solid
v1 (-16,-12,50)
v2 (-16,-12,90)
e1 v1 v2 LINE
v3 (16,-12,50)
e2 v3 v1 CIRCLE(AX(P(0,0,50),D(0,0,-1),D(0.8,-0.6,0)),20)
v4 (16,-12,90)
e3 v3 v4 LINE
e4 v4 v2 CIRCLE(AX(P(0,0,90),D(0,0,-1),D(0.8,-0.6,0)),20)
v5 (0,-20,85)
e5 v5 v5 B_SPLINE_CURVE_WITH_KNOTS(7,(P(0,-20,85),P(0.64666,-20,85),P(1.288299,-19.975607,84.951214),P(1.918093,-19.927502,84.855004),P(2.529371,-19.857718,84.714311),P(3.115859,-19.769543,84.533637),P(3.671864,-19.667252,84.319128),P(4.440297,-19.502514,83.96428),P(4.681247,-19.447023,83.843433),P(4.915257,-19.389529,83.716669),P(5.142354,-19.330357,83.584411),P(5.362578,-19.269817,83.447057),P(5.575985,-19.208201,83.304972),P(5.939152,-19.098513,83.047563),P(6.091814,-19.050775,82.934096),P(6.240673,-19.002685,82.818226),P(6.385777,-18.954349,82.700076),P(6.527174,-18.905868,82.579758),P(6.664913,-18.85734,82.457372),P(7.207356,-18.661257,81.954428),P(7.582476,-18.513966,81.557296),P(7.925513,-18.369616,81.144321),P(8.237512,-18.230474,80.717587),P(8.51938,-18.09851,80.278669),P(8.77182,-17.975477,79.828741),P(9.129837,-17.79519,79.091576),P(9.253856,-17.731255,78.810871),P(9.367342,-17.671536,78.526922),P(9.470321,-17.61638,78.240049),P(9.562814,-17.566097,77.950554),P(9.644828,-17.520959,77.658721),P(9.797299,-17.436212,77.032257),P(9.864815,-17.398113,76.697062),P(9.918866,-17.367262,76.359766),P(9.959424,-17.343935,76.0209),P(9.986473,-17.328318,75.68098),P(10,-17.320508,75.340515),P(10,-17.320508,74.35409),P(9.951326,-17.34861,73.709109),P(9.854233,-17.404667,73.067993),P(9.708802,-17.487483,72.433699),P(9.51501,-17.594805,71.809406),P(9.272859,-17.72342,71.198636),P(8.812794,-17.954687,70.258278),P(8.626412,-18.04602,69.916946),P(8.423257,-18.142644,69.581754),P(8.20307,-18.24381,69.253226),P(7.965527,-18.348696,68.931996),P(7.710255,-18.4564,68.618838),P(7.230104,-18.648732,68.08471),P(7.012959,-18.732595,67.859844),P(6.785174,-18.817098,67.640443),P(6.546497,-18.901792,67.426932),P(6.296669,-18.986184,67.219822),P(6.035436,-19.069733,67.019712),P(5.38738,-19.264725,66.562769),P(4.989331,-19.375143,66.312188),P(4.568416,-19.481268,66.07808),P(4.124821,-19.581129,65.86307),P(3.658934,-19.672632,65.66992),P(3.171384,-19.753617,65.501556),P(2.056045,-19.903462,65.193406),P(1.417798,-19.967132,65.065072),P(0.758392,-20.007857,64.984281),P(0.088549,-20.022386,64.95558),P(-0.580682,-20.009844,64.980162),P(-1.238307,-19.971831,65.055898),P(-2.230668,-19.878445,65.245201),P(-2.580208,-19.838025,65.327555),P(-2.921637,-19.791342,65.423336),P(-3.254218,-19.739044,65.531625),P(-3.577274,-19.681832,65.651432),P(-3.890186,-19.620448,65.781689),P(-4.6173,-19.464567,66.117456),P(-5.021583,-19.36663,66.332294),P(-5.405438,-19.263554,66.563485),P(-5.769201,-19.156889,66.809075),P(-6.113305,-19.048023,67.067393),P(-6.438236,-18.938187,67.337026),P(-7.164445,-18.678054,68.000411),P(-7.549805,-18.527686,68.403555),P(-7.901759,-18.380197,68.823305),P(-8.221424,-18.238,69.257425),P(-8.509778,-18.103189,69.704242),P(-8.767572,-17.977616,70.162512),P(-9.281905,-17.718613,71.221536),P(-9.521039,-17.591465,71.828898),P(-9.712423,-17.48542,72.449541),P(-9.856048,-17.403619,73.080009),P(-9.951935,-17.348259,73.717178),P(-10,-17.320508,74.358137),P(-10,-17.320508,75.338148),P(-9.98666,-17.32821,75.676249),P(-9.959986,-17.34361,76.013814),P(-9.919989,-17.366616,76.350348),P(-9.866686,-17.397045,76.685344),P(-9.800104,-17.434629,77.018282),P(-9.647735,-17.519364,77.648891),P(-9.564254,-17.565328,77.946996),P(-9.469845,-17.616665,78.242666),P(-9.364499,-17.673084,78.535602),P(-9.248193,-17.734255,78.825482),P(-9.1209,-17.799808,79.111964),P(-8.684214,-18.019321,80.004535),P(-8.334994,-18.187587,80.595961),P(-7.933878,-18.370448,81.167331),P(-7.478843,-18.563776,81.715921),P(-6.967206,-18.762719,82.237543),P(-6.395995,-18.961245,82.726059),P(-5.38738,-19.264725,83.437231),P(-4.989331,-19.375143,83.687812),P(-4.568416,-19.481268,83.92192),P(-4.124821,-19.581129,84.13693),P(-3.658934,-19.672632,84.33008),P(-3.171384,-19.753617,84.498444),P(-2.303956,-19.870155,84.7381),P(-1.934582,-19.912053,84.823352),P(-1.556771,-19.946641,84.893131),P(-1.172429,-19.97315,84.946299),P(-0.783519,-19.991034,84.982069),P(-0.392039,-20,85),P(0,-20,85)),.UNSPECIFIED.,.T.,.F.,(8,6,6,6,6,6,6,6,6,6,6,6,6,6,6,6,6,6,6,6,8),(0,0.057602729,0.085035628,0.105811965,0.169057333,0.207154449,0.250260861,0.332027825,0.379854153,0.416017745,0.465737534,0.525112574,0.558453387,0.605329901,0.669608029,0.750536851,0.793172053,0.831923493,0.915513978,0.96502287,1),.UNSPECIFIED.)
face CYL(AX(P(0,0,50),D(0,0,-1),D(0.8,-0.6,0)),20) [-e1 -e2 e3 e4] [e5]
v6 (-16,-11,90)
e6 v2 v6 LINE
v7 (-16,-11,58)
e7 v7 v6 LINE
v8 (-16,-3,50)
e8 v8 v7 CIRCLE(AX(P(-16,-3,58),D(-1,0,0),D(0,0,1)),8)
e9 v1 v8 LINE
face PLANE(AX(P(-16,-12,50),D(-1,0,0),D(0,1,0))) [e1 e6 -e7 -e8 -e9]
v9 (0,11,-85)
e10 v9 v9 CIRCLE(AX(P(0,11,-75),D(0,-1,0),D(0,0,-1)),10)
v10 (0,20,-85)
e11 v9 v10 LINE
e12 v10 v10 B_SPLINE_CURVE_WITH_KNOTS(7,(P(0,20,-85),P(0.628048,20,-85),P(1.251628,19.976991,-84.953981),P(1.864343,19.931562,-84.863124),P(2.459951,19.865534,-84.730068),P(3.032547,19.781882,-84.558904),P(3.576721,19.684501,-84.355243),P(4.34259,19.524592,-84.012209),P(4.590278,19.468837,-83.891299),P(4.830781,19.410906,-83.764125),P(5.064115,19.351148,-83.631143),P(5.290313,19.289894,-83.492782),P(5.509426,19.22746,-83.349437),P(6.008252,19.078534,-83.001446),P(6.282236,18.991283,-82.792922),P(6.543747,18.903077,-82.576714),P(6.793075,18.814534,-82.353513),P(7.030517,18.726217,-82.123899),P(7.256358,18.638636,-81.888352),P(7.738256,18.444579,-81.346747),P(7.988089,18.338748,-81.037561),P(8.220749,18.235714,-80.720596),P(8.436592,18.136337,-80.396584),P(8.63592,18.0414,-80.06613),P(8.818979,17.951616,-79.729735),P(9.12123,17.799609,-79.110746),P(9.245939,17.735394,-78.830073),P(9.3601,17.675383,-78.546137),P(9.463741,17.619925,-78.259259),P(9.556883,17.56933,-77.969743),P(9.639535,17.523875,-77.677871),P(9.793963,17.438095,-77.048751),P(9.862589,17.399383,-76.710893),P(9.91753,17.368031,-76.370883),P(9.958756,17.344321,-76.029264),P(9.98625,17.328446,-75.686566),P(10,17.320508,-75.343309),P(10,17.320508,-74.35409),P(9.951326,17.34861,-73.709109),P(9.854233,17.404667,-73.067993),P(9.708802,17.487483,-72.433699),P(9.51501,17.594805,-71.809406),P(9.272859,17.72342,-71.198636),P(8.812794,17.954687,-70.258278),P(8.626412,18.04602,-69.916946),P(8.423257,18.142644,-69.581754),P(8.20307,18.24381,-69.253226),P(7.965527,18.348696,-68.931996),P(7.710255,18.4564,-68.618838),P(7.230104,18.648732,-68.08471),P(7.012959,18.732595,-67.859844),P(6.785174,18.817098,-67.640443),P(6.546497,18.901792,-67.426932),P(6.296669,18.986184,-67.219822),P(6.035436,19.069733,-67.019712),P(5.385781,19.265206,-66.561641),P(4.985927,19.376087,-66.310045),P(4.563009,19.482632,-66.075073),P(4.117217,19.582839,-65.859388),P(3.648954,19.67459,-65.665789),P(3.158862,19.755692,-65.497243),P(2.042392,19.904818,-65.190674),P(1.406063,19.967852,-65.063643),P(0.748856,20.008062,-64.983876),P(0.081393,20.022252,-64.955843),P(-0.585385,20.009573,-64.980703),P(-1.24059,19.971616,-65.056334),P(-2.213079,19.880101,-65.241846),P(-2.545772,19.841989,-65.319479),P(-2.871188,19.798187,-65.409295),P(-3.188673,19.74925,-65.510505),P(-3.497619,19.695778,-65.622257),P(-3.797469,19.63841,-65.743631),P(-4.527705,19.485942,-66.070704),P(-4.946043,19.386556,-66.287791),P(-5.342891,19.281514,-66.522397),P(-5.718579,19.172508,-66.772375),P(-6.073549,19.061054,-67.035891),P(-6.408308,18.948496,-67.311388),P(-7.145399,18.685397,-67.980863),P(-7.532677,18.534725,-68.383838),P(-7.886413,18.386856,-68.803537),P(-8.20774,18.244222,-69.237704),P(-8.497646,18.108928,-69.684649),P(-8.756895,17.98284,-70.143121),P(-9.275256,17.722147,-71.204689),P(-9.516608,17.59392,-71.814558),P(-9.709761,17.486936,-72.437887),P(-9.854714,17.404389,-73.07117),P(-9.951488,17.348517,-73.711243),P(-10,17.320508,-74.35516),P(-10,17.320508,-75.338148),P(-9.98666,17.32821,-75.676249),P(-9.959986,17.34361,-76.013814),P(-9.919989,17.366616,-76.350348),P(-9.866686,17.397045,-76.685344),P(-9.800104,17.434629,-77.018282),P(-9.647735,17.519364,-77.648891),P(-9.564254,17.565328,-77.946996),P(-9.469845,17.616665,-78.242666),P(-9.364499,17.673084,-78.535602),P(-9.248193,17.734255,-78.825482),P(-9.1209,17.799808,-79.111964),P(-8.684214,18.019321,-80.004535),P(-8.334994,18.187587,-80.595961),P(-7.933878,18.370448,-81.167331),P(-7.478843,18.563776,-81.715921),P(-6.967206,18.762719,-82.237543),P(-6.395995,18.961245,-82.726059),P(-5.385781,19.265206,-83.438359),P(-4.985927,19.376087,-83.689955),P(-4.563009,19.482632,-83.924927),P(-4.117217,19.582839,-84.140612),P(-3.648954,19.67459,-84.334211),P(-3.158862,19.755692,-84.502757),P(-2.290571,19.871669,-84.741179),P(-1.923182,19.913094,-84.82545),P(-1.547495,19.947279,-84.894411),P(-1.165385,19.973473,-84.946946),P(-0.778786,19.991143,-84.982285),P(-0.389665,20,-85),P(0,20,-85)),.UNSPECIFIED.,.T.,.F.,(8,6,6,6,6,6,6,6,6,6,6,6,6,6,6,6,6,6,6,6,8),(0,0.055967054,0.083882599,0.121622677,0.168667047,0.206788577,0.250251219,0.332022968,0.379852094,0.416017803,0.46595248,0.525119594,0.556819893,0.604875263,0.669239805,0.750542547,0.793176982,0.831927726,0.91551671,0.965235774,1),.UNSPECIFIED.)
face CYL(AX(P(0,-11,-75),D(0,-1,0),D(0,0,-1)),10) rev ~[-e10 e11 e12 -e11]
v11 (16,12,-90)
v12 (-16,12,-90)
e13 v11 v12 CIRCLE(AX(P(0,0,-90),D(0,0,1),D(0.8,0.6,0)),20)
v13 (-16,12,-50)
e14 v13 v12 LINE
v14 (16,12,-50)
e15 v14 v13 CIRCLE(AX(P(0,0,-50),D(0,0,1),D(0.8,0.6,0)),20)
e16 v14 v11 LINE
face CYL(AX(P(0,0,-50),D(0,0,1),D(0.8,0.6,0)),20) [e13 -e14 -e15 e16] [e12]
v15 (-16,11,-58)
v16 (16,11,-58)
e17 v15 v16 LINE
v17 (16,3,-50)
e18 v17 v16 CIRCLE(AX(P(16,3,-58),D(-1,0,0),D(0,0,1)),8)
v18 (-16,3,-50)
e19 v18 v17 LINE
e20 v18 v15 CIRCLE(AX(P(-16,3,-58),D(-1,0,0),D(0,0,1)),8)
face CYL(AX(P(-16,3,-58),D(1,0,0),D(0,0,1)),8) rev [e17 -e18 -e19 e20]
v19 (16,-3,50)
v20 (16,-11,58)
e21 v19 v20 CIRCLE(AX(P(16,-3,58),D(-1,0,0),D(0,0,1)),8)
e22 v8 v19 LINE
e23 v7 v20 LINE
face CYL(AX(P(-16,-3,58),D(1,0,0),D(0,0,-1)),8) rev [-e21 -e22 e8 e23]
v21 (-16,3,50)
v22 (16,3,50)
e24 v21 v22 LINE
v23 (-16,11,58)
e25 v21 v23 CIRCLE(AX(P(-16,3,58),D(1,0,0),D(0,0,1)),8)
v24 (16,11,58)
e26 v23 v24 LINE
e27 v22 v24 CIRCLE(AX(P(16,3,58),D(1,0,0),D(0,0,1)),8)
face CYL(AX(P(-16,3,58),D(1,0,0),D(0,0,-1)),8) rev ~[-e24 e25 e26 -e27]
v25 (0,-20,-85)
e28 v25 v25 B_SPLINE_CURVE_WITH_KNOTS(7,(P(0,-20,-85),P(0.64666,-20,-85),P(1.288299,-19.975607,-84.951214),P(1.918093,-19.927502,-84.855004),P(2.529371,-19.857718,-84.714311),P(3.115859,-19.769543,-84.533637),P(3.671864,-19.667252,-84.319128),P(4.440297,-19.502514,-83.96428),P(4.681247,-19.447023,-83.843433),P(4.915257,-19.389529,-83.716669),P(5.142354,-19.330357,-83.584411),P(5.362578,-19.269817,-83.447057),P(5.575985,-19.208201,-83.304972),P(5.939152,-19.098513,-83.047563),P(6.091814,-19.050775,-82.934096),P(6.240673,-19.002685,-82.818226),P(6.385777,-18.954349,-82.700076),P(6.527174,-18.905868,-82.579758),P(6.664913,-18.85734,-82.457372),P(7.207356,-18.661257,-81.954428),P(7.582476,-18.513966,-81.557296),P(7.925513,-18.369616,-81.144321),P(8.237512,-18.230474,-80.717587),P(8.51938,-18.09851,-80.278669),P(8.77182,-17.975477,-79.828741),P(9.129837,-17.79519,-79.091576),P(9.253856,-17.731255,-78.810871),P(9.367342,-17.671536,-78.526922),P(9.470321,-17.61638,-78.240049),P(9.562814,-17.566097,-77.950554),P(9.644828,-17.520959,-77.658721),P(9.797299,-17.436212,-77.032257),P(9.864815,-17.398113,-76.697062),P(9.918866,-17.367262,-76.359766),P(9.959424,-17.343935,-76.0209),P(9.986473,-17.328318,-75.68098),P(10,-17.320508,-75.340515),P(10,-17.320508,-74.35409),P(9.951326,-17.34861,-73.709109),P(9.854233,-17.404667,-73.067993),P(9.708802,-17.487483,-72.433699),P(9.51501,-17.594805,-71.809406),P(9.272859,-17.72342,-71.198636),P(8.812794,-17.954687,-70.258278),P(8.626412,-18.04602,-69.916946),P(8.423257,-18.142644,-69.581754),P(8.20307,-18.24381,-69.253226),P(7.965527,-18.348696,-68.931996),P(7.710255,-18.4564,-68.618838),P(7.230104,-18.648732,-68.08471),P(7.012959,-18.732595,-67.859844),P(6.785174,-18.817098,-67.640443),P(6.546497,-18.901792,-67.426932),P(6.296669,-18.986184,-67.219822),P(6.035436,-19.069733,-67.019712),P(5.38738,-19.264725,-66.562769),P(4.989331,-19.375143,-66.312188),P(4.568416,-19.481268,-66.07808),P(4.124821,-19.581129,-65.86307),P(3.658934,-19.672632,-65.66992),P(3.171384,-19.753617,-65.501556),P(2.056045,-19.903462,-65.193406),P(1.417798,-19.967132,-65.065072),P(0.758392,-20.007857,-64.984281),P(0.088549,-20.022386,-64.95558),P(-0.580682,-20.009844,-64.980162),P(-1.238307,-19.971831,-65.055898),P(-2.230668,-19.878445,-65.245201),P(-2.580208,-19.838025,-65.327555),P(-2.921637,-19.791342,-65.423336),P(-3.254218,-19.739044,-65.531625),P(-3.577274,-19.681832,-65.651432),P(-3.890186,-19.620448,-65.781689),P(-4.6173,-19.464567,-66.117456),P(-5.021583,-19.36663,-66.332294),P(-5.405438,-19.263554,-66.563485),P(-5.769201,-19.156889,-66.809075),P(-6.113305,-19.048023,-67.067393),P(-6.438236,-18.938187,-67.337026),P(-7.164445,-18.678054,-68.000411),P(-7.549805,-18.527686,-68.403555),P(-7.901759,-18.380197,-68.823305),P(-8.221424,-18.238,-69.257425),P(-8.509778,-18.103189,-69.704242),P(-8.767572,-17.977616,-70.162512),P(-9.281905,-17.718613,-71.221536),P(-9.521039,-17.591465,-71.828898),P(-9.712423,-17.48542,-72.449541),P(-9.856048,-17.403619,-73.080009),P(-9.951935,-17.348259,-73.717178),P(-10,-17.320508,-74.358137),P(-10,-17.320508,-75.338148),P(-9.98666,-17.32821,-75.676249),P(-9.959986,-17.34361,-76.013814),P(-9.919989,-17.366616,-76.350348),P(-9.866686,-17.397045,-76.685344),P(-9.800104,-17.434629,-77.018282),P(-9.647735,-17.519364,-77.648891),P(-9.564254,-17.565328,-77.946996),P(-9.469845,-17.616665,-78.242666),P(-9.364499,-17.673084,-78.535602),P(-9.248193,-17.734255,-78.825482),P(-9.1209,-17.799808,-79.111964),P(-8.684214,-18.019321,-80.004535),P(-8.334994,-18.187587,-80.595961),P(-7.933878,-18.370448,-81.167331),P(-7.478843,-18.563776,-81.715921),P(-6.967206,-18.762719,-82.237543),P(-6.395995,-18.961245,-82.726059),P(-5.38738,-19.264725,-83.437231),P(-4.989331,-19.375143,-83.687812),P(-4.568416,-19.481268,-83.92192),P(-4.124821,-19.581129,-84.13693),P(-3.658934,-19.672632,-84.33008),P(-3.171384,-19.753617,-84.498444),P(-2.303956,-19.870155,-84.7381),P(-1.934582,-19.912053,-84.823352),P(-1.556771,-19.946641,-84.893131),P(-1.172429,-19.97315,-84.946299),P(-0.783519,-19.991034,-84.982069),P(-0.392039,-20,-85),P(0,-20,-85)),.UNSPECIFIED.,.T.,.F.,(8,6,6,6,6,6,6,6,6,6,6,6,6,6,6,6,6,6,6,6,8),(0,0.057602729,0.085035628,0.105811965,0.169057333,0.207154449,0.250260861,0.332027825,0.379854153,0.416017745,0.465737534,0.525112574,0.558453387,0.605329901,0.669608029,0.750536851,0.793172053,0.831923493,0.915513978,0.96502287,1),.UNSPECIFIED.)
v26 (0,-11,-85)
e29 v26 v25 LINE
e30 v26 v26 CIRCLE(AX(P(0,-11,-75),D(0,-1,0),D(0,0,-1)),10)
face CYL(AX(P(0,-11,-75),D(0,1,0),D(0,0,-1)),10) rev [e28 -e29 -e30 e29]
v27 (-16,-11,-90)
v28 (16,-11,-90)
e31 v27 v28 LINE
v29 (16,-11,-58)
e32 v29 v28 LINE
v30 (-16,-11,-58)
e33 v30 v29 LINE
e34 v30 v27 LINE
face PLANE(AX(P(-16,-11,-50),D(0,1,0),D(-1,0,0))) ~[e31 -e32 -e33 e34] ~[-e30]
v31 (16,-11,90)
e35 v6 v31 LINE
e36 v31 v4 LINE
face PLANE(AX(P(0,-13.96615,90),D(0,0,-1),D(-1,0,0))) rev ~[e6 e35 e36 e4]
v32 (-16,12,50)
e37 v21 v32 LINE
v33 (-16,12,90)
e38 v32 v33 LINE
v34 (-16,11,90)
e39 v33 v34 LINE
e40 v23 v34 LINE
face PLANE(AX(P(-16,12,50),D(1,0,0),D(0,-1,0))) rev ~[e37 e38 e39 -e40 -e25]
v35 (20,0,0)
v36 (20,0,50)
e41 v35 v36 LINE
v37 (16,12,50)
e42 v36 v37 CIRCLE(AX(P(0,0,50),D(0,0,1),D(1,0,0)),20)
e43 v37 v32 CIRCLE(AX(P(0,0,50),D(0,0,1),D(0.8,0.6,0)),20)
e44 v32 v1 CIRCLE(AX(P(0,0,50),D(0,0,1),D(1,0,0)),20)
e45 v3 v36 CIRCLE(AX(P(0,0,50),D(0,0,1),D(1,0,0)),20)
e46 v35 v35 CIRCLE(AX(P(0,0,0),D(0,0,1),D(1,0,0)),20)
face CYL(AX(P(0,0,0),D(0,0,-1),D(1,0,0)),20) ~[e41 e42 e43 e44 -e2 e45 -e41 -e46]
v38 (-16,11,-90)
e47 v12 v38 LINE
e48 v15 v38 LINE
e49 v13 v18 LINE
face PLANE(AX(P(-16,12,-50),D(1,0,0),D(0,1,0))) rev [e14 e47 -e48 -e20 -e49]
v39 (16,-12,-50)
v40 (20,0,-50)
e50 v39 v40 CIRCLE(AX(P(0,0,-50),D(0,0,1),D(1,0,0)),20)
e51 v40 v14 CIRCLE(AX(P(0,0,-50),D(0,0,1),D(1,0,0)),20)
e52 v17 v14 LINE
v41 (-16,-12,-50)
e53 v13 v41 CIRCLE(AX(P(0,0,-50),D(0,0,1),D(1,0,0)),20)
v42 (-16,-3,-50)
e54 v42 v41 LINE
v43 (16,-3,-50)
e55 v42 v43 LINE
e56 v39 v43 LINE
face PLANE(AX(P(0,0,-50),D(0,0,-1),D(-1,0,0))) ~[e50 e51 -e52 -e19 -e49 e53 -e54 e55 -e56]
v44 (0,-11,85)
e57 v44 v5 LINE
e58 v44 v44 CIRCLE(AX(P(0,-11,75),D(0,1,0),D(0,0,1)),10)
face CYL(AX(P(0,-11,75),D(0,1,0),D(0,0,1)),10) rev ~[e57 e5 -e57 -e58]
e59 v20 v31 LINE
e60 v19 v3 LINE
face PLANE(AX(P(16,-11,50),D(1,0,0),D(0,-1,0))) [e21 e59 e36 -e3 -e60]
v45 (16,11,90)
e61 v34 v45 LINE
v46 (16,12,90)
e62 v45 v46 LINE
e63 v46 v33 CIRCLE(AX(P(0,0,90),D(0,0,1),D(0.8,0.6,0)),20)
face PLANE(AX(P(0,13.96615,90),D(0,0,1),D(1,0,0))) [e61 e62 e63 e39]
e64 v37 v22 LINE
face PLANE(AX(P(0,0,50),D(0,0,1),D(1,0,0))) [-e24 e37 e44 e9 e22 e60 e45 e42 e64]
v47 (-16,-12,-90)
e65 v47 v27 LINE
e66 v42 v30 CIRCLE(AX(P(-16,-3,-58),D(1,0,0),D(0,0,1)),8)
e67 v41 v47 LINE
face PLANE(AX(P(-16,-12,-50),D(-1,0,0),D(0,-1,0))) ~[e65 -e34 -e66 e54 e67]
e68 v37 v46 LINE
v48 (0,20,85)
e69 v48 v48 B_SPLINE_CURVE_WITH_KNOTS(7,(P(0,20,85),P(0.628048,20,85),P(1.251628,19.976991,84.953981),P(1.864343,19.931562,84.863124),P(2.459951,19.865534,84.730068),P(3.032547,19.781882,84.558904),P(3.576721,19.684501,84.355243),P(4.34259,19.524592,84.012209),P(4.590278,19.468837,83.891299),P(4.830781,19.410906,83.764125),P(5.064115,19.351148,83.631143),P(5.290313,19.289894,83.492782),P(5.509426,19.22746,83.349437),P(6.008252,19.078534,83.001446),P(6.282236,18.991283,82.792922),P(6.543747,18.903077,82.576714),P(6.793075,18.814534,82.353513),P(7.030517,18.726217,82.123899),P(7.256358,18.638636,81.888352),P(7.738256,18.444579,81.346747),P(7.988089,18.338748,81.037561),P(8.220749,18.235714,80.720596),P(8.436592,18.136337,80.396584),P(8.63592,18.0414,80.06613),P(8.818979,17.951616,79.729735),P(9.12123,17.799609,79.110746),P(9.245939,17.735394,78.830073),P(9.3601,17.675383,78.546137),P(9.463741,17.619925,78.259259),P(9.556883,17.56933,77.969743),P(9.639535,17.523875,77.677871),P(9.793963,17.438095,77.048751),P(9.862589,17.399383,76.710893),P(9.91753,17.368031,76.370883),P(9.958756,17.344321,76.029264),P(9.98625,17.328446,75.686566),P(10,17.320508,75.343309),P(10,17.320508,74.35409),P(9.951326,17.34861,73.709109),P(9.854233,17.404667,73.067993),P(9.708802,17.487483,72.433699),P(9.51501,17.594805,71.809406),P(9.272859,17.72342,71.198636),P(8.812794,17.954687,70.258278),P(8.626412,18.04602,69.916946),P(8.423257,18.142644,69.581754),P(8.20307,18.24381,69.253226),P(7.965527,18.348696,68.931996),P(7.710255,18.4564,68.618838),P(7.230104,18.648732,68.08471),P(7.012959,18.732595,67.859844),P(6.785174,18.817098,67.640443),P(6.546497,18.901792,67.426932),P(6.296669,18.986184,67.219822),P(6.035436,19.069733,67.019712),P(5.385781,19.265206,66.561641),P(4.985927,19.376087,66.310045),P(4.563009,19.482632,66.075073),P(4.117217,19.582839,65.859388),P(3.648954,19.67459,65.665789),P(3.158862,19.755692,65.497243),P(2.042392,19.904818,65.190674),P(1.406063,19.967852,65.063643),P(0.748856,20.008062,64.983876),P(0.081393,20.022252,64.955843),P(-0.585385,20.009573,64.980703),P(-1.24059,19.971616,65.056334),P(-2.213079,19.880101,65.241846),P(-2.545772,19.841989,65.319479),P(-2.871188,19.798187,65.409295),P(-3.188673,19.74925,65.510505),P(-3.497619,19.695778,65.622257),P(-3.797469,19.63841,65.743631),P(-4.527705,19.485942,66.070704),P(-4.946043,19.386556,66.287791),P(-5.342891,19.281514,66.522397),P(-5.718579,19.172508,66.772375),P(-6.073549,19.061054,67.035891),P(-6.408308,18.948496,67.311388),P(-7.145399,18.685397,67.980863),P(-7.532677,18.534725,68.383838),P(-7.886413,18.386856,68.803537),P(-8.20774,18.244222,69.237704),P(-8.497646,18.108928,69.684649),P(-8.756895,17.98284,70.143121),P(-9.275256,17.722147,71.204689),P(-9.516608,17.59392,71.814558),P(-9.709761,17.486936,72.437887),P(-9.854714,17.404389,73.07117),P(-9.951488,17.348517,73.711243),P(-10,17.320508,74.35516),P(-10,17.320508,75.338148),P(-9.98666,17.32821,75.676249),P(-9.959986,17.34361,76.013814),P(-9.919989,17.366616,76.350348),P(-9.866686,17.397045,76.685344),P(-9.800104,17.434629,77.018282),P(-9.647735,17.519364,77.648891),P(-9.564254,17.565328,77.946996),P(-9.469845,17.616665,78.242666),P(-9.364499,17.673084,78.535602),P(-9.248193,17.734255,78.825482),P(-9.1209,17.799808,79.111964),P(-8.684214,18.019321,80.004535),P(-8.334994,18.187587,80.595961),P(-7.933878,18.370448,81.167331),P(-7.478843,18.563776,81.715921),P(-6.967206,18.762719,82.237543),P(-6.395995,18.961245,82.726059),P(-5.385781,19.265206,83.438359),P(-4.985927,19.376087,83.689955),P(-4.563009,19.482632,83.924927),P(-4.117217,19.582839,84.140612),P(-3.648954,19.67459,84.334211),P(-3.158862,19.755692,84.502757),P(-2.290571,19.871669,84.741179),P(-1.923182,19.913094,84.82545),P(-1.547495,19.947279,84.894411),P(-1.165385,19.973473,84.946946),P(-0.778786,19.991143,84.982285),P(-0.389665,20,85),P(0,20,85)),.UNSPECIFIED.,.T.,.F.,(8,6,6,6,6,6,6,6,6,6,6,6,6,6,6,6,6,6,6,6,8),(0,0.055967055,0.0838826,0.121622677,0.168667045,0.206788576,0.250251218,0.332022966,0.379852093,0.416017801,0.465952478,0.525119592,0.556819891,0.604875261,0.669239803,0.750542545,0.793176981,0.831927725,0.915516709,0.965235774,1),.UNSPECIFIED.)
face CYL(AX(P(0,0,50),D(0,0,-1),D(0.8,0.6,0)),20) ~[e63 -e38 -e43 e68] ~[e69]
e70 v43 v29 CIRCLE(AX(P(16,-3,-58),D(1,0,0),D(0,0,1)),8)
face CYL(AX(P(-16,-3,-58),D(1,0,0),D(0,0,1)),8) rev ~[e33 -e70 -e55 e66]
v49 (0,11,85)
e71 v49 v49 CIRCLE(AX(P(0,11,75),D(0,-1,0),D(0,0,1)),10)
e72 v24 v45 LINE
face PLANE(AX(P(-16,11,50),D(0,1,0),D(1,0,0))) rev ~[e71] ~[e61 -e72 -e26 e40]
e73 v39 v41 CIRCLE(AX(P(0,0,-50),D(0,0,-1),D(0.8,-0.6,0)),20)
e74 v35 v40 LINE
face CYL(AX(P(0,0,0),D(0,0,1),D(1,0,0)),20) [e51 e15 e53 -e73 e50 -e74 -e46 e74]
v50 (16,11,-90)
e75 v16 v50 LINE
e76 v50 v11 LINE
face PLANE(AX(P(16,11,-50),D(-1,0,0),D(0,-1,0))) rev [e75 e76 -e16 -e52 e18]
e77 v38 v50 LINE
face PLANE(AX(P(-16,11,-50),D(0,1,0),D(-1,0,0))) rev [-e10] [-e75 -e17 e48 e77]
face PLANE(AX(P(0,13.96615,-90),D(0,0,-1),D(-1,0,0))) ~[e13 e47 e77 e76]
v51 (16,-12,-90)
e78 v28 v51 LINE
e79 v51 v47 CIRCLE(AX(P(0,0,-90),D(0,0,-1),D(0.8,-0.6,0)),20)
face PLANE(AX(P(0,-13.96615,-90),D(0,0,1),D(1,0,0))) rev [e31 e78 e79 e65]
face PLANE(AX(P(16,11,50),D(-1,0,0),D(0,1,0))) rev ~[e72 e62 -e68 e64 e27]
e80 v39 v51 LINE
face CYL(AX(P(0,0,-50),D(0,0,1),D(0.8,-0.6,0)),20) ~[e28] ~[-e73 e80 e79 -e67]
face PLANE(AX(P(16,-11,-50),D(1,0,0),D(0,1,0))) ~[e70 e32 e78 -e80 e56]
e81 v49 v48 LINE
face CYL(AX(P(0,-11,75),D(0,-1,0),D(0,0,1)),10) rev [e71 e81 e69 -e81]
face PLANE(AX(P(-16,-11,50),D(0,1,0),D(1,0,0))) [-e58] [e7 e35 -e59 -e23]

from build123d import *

# Parameters (mm, degrees)
SZKIC1_R                               = 20
DODANIE_WYCI_GNI_CIE1_DEPTH            = 50
DODANIE_WYCI_GNI_CIE4_DEPTH            = 40
SZKIC7_R                               = 10
WYTNIJ_WYCI_GNI_CIE1_DEPTH             = 40
WYTNIJ_WYCI_GNI_CIE1_DIRECTION_2_REACH = 99.268
ZAOKR_GLENIE1_R                        = 8
ZAOKR_GLENIE1_OF_LUSTRO2_R             = 8


with BuildPart() as part:
    # Szkic1 → Dodanie-wyciągnięcie1 (new body)
    with BuildSketch(Plane.XY):
        Circle(SZKIC1_R)
    dodanie_wyci_gni_cie1 = extrude(amount=DODANIE_WYCI_GNI_CIE1_DEPTH)

    # Szkic6 → Dodanie-wyciągnięcie4 (add)
    with BuildSketch(Plane.XY.offset(50)):
        with BuildLine():
            Line((-16, 12), (-16, 11))
            Line((-16, 11), (16, 11))
            Line((16, 11), (16, 12))
            ThreePointArc((16, 12), (0, 20), (-16, 12))
        make_face()
        with BuildLine():
            Line((16, -11), (16, -12))
            ThreePointArc((16, -12), (0, -20), (-16, -12))
            Line((-16, -12), (-16, -11))
            Line((-16, -11), (16, -11))
        make_face()
    dodanie_wyci_gni_cie4 = extrude(amount=DODANIE_WYCI_GNI_CIE4_DEPTH)

    # Szkic7 → Wytnij-wyciągnięcie1 (cut)
    with BuildSketch(Plane(origin=(0, -11, 0), x_dir=(1, 0, 0), z_dir=(0, 1, 0))):
        with Locations(Location((0, -75, 0), (0, 0, 270))):
            Circle(SZKIC7_R)
    wytnij_wyci_gni_cie1 = extrude(amount=WYTNIJ_WYCI_GNI_CIE1_DEPTH, mode=Mode.SUBTRACT)

    # Szkic7 → Wytnij-wyciągnięcie1 direction 2 (cut, up to next)
    with BuildSketch(Plane(origin=(0, -11, 0), x_dir=(1, 0, 0), z_dir=(0, 1, 0)), mode=Mode.PRIVATE) as wytnij_wyci_gni_cie1_direction_2_sk1:
        with Locations(Location((0, -75, 0), (0, 0, 270))):
            Circle(SZKIC7_R)
    wytnij_wyci_gni_cie1_direction_2_tool1 = extrude(wytnij_wyci_gni_cie1_direction_2_sk1.sketch, amount=-WYTNIJ_WYCI_GNI_CIE1_DIRECTION_2_REACH, mode=Mode.PRIVATE) & part.part
    wytnij_wyci_gni_cie1_direction_2 = wytnij_wyci_gni_cie1_direction_2_tool1.solids().sort_by_distance((0, -11, 75))[0]
    add(wytnij_wyci_gni_cie1_direction_2, mode=Mode.SUBTRACT)

    # Zaokrąglenie1
    zaokr_glenie1_edges = [part.edges().sort_by_distance(p)[0] for p in [
        (0, -11, 50),
        (0, 11, 50),
    ]]
    fillet(zaokr_glenie1_edges, radius=ZAOKR_GLENIE1_R)

    # Lustro2: Dodanie-wyciągnięcie1, Dodanie-wyciągnięcie4, Wytnij-wyciągnięcie1, Wytnij-wyciągnięcie1 direction 2 across plane
    add(dodanie_wyci_gni_cie1.mirror(Plane.XY))
    add(dodanie_wyci_gni_cie4.mirror(Plane.XY))
    add(wytnij_wyci_gni_cie1.mirror(Plane.XY), mode=Mode.SUBTRACT)
    add(wytnij_wyci_gni_cie1_direction_2.mirror(Plane.XY), mode=Mode.SUBTRACT)

    # Zaokrąglenie1 of Lustro2
    zaokr_glenie1_of_lustro2_edges = [part.edges().sort_by_distance(p)[0] for p in [
        (0, -11, -50),
        (0, 11, -50),
    ]]
    fillet(zaokr_glenie1_of_lustro2_edges, radius=ZAOKR_GLENIE1_OF_LUSTRO2_R)


solid = part.part
